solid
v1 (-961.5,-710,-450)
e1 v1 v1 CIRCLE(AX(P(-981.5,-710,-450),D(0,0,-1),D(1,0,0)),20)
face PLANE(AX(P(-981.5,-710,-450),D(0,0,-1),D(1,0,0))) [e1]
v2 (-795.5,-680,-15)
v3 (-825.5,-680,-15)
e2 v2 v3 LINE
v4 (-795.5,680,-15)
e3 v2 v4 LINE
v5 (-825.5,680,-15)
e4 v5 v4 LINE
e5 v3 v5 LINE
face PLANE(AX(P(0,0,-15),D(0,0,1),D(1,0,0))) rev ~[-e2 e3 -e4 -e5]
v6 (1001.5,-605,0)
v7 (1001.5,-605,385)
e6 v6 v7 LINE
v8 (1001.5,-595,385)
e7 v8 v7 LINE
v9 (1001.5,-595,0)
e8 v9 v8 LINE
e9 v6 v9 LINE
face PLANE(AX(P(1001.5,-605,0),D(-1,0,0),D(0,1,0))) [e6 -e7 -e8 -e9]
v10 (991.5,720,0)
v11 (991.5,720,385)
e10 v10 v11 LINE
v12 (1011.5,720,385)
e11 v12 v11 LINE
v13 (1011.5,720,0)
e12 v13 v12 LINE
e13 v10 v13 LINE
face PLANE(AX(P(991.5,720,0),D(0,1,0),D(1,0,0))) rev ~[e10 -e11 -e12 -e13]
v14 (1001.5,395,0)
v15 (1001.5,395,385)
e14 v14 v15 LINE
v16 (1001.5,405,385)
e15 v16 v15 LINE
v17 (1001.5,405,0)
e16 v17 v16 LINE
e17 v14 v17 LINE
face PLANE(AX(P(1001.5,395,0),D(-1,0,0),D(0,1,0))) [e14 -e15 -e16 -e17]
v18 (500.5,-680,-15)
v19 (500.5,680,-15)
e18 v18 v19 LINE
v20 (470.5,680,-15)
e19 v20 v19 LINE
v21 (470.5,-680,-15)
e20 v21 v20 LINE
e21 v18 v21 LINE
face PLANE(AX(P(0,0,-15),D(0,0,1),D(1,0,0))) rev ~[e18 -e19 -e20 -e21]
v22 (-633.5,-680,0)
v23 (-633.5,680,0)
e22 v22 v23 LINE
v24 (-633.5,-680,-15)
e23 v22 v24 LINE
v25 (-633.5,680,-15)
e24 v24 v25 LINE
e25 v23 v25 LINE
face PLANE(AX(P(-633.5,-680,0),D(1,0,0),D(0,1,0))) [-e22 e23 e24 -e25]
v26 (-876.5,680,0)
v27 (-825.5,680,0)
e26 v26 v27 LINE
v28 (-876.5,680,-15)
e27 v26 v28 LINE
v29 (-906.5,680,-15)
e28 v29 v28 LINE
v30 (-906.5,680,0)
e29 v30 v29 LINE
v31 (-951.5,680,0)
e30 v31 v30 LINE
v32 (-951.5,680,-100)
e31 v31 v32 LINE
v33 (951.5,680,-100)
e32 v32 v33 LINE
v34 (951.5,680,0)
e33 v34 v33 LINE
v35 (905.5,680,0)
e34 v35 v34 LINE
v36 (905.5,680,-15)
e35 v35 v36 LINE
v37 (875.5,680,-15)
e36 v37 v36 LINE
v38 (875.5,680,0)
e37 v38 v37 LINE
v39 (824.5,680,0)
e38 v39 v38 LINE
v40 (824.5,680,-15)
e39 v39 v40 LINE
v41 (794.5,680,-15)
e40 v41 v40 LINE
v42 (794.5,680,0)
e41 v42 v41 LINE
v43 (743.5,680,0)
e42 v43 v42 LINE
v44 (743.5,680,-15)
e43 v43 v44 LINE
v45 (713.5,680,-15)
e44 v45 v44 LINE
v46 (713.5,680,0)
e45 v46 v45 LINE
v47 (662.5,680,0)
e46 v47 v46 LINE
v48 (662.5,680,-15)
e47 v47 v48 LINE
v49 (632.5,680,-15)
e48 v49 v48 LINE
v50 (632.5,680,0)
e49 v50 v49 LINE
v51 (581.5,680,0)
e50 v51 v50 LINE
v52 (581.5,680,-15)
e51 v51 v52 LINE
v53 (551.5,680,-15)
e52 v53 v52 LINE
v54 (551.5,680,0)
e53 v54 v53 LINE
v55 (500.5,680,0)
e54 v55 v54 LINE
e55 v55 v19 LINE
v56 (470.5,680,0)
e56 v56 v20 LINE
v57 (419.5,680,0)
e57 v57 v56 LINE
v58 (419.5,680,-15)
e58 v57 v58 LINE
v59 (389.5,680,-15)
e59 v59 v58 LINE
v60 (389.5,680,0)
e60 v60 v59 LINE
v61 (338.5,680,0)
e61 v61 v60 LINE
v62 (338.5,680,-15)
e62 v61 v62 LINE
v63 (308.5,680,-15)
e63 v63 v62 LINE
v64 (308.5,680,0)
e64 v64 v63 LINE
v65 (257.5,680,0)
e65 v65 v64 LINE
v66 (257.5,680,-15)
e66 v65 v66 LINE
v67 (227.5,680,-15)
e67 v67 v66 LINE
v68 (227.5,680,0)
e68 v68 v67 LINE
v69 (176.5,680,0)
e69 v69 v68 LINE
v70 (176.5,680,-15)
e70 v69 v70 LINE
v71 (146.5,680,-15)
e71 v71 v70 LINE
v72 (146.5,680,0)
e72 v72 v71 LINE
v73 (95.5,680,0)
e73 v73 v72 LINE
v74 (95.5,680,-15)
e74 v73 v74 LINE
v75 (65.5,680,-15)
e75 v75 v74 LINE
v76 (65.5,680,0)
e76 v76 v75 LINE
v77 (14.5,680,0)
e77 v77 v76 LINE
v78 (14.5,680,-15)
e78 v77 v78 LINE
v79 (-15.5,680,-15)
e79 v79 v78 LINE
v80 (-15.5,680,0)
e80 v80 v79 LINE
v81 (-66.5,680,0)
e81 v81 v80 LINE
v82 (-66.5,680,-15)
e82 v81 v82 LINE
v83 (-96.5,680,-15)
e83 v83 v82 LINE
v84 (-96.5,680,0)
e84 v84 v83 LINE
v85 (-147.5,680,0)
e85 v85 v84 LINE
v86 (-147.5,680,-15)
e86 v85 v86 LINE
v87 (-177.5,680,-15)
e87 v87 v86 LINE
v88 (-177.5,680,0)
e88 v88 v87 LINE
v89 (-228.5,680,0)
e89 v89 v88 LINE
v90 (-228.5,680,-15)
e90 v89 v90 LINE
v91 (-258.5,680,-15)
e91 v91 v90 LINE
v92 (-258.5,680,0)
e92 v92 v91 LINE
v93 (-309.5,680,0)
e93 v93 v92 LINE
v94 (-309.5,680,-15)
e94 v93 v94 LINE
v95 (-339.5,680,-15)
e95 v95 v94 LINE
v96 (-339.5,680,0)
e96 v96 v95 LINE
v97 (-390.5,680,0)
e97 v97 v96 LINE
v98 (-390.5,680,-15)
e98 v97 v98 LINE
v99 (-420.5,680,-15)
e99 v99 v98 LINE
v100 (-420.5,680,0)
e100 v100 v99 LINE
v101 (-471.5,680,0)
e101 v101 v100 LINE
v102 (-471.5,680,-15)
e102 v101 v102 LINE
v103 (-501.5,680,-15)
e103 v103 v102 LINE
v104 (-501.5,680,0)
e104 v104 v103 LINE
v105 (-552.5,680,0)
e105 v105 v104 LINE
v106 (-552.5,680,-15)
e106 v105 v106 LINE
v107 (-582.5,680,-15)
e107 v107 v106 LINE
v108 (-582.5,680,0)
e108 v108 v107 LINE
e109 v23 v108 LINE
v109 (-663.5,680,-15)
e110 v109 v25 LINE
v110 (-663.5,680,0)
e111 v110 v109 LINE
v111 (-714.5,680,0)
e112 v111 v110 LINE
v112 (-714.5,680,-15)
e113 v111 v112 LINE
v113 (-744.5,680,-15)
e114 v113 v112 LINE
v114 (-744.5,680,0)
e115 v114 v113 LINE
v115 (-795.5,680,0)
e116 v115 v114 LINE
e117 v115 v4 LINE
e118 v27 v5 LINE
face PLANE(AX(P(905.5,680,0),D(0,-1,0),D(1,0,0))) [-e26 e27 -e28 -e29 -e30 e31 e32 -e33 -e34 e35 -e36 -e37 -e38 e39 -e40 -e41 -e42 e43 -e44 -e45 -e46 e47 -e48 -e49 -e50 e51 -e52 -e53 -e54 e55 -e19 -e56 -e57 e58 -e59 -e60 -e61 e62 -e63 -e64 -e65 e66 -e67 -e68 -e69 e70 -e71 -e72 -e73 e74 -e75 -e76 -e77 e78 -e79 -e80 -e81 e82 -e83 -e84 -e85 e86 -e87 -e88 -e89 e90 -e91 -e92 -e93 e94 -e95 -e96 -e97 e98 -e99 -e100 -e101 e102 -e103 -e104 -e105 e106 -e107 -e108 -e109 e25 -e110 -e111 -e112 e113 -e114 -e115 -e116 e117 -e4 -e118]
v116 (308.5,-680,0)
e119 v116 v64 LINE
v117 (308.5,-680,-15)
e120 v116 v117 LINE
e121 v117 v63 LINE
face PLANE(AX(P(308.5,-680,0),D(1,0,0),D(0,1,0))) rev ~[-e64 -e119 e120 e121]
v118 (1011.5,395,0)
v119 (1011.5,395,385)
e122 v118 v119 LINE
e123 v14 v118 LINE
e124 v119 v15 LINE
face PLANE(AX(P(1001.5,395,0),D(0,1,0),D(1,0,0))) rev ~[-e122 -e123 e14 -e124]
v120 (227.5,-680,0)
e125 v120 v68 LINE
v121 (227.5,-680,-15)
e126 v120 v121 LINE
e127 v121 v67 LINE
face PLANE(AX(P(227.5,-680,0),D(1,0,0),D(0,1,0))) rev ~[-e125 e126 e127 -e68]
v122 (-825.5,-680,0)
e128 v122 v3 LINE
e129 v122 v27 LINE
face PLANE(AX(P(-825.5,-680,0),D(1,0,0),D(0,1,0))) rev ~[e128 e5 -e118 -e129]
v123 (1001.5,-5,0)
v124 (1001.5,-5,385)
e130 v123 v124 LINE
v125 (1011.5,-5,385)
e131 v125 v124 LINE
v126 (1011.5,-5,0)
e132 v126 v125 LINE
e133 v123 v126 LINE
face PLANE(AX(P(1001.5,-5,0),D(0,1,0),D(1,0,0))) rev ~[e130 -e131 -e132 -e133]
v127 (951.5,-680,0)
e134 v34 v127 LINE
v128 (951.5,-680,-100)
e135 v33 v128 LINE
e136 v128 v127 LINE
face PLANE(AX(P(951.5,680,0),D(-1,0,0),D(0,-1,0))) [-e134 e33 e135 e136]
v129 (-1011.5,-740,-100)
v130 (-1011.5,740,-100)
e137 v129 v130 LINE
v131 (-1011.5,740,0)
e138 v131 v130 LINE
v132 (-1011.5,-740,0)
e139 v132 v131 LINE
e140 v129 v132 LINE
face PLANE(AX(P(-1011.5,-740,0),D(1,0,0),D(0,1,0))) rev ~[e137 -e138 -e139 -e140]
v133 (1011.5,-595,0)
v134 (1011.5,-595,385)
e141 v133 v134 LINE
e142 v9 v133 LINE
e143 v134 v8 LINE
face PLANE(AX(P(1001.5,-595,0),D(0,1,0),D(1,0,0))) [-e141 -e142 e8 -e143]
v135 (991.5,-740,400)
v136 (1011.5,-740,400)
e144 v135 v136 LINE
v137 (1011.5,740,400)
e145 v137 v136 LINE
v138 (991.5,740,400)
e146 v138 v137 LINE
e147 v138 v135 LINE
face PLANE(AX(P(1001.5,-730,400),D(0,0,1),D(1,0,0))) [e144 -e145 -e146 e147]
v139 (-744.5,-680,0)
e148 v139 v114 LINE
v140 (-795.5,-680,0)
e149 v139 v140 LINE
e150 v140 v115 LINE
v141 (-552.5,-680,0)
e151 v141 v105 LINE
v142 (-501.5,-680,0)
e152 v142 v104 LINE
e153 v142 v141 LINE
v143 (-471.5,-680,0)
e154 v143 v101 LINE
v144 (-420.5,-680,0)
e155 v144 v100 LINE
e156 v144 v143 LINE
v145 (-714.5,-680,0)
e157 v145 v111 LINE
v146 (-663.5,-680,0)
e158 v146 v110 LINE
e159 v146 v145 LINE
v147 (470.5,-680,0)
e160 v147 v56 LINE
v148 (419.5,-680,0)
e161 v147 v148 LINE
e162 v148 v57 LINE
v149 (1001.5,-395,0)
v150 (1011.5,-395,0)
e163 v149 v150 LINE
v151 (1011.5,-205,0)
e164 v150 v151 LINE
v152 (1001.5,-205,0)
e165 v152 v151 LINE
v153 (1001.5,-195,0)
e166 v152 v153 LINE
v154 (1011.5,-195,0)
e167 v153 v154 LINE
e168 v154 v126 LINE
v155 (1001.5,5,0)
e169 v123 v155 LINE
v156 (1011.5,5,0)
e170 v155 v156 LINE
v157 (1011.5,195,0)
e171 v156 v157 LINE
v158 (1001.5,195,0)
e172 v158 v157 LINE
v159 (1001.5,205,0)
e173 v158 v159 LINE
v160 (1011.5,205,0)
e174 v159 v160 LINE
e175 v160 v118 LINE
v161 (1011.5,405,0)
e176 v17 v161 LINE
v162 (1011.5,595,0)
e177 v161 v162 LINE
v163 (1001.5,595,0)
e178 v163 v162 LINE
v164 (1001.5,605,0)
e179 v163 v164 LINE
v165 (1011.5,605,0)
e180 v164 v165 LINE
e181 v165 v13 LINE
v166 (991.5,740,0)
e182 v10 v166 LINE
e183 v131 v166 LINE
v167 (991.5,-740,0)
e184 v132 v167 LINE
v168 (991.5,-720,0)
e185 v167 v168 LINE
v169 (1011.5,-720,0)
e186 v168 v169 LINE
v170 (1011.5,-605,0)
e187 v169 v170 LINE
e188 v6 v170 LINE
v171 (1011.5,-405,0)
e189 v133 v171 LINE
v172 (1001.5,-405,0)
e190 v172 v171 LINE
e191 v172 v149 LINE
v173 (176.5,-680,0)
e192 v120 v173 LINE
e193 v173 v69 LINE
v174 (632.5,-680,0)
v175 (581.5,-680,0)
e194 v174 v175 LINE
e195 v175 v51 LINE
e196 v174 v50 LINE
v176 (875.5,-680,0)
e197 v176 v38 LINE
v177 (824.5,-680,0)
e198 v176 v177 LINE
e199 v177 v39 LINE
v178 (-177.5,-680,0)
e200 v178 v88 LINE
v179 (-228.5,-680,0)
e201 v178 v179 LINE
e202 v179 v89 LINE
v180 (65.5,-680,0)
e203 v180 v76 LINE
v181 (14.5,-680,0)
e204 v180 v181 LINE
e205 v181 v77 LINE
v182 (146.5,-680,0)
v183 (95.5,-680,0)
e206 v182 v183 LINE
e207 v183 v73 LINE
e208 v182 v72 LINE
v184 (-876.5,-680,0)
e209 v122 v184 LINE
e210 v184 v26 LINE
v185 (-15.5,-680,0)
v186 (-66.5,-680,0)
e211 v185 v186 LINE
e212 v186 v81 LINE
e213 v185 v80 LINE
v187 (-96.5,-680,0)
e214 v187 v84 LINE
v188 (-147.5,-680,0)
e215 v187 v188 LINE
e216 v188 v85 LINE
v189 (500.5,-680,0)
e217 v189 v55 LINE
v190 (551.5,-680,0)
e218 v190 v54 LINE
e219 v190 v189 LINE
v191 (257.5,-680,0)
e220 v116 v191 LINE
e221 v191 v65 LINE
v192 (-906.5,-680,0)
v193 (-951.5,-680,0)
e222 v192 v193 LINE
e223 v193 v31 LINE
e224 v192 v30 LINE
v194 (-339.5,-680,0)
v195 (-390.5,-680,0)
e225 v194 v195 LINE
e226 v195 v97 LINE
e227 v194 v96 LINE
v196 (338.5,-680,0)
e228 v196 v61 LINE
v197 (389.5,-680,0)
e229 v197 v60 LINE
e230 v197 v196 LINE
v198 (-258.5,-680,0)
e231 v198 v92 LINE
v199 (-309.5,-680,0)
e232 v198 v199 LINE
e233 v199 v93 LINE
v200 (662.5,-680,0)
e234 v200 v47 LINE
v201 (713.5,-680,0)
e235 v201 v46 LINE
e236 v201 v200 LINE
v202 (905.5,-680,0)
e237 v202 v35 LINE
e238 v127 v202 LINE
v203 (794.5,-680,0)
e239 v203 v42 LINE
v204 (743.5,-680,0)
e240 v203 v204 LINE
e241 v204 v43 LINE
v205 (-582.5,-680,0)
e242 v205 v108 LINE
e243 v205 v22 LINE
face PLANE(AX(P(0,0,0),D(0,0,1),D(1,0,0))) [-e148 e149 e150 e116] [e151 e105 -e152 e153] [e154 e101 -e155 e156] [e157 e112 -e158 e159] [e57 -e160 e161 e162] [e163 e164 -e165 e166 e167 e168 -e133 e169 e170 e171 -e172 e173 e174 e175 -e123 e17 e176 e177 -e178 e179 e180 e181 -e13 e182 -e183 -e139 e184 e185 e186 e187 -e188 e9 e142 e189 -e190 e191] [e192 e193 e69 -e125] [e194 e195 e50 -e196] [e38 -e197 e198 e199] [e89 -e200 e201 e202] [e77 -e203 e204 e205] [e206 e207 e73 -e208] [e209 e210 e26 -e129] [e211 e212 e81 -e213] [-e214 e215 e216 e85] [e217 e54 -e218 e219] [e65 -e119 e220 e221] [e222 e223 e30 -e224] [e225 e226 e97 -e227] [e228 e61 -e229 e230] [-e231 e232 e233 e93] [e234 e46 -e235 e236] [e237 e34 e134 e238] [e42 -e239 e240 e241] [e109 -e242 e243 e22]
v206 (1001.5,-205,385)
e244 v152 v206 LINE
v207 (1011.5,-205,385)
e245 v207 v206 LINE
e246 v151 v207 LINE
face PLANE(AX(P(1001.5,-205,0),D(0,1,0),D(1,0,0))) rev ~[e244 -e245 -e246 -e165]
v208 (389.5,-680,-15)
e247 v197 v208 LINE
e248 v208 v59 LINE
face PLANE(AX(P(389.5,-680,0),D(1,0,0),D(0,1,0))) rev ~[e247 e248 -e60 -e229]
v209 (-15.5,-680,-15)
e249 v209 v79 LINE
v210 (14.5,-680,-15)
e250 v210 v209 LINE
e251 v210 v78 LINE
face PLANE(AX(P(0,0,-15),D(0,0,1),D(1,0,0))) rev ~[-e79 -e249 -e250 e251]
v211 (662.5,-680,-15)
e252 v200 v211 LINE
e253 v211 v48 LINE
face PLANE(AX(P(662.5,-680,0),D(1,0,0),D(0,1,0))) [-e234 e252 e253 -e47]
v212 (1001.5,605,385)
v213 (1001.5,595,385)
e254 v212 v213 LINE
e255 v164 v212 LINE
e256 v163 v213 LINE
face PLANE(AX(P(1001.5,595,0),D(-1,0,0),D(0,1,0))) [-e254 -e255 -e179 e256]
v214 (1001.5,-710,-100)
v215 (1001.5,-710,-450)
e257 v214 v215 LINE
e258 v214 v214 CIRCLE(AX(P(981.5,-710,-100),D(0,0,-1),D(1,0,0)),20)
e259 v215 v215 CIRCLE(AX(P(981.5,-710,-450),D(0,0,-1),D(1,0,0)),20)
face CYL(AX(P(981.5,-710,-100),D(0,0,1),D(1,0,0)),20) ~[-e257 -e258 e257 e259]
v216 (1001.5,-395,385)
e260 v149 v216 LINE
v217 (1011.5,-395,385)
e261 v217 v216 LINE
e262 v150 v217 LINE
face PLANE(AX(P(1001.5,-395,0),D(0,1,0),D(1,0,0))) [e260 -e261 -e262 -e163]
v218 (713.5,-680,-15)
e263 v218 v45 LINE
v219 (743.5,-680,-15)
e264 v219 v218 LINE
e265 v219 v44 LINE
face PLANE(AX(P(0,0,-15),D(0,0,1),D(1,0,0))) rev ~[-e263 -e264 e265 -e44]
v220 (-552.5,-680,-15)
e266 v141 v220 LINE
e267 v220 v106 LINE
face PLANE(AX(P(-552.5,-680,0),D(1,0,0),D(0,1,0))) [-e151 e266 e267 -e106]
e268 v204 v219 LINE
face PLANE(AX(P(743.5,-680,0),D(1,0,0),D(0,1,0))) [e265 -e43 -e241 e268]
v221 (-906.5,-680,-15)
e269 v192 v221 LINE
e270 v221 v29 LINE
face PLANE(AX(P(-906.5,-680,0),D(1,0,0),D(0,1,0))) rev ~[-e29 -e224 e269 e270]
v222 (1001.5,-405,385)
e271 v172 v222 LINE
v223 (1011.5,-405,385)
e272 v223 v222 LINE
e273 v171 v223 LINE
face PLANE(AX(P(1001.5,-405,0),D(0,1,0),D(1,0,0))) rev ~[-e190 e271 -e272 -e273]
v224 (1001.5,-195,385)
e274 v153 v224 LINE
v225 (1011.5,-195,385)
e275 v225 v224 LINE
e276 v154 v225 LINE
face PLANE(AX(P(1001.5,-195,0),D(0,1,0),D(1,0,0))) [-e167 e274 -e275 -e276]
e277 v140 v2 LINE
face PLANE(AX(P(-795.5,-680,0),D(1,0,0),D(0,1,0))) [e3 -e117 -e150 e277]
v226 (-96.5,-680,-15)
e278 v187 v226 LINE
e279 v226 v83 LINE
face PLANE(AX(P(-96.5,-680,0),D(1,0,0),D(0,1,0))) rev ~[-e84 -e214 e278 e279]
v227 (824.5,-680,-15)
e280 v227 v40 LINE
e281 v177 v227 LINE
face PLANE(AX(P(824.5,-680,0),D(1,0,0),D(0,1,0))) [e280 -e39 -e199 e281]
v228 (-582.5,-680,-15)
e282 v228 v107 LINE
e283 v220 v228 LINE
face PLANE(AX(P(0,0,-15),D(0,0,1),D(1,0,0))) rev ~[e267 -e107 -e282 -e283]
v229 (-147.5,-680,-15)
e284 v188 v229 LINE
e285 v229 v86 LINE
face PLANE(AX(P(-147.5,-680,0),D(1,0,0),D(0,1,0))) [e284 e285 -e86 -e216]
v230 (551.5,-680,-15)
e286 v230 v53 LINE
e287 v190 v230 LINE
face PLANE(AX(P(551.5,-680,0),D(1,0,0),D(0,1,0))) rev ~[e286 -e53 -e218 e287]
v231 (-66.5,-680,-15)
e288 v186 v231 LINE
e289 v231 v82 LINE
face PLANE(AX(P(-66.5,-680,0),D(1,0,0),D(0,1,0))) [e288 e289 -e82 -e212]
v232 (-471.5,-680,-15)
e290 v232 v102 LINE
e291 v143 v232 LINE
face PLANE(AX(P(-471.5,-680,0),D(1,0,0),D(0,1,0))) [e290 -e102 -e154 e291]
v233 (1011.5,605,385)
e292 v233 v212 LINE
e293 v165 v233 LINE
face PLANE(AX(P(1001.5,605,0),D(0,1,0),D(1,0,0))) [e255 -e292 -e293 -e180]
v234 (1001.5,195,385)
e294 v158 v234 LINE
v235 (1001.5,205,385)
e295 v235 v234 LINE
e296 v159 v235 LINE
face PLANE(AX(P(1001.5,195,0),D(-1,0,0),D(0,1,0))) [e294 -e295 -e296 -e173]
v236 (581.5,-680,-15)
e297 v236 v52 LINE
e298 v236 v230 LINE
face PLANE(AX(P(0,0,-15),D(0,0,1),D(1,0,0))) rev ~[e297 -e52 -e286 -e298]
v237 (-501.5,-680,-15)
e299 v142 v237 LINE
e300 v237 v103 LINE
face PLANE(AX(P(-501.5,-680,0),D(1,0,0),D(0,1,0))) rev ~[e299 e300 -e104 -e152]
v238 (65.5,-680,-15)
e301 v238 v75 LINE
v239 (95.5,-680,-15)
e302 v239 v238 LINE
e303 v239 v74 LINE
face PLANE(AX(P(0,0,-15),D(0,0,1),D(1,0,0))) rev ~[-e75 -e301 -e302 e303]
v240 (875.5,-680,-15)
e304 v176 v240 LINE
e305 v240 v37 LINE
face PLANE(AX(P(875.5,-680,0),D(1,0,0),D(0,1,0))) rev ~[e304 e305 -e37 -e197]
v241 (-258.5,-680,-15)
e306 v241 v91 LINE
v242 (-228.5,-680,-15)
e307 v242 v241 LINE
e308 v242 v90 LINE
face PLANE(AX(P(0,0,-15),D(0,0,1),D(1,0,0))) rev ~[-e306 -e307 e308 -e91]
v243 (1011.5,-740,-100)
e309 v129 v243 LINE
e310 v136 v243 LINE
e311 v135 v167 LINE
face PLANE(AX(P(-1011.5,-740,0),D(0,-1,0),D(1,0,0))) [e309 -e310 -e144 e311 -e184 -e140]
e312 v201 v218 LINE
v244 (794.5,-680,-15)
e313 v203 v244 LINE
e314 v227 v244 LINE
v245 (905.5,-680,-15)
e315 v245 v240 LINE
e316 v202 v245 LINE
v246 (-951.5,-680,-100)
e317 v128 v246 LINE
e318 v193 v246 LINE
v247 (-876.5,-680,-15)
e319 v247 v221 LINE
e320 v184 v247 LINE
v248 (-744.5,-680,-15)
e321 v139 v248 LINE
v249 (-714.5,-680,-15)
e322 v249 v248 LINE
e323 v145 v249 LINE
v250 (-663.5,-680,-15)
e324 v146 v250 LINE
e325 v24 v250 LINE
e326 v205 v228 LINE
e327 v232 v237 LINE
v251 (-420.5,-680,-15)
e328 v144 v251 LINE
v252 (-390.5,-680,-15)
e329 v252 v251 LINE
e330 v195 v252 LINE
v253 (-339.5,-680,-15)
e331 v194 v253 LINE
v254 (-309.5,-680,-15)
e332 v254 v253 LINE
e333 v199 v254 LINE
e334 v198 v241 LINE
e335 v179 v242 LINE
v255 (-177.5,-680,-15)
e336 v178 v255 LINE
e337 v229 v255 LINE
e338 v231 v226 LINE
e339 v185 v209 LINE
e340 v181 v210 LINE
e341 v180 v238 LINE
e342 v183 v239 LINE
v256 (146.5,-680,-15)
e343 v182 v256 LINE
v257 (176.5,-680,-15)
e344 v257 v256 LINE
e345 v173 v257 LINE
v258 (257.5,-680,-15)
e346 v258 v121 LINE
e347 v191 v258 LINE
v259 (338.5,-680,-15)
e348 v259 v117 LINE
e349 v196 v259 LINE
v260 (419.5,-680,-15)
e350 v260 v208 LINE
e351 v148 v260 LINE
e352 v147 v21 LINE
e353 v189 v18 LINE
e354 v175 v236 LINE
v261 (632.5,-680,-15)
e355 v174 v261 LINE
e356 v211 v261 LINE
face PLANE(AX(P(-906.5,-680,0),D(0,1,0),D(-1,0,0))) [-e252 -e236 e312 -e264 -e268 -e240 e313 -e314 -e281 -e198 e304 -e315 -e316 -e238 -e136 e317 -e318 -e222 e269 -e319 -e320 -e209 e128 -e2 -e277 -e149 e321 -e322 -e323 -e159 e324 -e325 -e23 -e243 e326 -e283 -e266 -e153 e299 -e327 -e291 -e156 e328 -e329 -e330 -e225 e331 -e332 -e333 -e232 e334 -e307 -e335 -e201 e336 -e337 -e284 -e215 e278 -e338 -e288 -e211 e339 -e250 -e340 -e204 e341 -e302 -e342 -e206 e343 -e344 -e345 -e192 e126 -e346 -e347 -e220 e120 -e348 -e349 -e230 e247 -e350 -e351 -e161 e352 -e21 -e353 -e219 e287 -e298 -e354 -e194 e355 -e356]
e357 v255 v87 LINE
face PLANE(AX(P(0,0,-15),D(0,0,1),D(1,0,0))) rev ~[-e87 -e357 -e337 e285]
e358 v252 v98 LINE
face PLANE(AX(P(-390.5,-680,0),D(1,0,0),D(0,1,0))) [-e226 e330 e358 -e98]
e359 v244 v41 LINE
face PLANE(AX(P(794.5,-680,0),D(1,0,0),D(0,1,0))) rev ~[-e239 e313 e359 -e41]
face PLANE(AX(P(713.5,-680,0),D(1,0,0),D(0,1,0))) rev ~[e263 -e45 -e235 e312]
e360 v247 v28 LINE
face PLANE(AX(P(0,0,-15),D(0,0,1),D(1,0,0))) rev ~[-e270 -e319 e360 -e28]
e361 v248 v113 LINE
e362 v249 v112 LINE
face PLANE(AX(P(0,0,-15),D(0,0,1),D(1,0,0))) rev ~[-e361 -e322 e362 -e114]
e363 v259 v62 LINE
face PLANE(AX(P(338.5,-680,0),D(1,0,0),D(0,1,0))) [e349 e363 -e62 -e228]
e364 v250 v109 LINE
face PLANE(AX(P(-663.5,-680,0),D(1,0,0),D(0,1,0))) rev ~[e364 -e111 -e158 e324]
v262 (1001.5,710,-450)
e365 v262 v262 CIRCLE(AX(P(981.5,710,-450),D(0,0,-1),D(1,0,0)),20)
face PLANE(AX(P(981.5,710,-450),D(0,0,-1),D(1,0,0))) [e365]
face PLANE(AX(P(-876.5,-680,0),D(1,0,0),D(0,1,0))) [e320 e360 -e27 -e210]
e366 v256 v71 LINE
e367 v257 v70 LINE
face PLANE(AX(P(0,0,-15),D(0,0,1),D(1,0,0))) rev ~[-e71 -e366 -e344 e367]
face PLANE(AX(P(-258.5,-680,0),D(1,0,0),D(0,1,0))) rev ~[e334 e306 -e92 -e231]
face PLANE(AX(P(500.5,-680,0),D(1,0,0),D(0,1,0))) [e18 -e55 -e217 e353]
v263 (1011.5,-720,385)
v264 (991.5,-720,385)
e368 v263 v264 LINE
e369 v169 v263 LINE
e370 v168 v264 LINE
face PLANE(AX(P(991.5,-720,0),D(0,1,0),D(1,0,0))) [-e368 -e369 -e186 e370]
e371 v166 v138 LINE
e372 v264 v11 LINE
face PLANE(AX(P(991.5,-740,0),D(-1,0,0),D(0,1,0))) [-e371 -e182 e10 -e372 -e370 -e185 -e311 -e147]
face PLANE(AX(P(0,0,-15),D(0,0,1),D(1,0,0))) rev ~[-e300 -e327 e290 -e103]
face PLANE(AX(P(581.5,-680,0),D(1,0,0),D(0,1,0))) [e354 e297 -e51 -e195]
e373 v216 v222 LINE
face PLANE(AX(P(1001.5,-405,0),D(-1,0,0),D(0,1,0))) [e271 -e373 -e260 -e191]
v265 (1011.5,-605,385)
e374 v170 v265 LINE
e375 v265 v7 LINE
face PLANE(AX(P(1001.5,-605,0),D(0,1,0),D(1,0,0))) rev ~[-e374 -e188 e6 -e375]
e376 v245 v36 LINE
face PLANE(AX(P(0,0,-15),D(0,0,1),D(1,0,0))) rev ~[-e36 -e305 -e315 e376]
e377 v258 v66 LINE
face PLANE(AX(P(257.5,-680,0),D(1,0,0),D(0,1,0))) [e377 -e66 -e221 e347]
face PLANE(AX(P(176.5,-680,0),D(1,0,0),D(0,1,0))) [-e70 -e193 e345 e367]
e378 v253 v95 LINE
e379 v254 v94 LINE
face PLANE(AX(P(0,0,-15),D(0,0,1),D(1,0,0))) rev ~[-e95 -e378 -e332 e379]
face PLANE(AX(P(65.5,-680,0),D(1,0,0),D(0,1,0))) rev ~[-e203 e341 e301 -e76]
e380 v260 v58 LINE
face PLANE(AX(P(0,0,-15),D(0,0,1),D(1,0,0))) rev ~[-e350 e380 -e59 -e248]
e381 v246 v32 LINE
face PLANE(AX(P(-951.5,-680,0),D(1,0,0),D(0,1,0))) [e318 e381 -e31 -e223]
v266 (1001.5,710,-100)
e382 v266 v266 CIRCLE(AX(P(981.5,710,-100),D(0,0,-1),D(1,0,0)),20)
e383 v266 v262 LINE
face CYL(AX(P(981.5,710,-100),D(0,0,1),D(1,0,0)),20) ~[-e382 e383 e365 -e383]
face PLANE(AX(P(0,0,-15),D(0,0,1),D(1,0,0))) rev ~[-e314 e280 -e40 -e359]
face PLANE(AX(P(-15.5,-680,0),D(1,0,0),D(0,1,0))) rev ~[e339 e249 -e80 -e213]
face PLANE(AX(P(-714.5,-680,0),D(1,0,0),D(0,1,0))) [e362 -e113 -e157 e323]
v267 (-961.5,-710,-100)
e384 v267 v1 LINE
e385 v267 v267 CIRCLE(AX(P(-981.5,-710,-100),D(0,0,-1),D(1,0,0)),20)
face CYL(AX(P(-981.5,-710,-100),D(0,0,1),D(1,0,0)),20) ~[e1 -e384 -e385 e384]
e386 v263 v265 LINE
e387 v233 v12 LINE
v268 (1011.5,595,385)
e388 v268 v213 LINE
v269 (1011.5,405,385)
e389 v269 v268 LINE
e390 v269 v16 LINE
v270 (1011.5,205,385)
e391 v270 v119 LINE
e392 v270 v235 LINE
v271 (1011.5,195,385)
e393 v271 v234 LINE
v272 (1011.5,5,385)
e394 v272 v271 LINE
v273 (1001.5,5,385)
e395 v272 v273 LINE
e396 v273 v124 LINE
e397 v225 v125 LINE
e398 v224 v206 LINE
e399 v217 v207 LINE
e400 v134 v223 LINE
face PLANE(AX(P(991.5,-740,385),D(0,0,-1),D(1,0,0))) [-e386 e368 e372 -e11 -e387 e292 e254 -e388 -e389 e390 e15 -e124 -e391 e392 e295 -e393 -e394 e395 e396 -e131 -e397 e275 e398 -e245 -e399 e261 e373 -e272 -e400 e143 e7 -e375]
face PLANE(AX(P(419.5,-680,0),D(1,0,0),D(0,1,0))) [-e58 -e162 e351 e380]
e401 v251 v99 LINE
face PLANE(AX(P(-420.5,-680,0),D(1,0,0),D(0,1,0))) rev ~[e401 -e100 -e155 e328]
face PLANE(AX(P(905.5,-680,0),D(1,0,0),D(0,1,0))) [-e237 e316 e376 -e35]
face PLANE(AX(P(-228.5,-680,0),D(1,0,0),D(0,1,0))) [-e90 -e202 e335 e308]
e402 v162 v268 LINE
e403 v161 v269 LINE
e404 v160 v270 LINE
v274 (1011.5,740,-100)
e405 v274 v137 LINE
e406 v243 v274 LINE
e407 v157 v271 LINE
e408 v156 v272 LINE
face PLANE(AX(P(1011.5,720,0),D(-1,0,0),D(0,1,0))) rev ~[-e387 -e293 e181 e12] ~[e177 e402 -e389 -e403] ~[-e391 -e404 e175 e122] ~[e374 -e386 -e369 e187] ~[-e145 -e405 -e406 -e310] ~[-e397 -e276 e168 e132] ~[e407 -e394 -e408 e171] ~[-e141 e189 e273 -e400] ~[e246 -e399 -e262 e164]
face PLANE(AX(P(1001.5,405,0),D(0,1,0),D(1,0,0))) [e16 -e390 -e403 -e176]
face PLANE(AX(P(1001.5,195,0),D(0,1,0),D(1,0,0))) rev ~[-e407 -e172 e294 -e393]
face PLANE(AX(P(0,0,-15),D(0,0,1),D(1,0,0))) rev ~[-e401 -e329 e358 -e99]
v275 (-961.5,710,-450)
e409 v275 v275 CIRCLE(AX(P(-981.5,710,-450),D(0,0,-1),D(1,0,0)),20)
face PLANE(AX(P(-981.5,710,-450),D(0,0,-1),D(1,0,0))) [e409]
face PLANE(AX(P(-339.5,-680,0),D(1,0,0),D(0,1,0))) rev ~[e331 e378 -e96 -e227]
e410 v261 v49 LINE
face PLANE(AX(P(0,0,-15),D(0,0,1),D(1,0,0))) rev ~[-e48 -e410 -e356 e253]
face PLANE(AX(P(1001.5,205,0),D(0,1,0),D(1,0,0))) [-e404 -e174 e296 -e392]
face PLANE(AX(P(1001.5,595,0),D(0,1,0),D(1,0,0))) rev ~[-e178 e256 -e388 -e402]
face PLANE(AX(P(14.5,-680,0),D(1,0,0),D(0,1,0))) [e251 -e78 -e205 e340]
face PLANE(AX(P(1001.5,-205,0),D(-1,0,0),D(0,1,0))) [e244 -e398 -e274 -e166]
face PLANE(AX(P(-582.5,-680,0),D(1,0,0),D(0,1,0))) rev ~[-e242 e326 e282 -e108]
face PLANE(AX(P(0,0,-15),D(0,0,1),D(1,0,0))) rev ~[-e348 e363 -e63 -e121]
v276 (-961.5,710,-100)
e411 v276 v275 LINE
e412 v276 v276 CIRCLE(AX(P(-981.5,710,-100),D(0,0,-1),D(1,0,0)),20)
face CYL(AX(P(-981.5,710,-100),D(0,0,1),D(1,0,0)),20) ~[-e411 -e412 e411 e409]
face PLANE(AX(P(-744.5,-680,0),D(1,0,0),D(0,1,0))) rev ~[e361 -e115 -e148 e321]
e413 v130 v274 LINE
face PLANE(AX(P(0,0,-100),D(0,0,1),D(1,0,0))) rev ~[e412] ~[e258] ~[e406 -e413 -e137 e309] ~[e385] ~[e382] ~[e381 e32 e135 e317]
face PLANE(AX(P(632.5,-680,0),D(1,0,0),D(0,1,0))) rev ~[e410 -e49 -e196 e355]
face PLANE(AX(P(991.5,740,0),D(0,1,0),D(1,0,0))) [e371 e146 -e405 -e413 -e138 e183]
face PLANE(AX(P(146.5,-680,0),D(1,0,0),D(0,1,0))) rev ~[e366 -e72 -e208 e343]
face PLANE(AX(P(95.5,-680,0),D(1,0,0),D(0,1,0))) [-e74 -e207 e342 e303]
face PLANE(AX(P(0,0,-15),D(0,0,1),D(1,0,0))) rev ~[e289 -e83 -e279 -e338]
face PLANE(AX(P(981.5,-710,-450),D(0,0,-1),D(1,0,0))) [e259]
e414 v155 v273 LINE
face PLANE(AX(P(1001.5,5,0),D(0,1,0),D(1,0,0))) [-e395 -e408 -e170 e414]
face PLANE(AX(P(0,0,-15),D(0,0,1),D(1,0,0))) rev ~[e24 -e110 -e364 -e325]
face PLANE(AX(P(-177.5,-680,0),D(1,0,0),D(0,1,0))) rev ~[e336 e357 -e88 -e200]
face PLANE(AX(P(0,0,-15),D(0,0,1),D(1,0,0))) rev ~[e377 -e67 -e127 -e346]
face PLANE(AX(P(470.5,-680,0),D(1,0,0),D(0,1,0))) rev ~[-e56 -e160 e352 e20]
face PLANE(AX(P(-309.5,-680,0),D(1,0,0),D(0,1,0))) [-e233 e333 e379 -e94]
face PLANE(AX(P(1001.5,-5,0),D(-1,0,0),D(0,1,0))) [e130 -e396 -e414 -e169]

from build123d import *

# Parameters (mm, degrees)
F0_W     = 2023
F0_H     = 1480
F0_W_2   = 30
F0_H_2   = 1360
F1_DEPTH = 15
F2_DEPTH = 100
F3_R     = 20
F4_DEPTH = 350
F5_W     = 20
F5_H     = 20
F5_W_2   = 10
F5_H_2   = 10
F6_DEPTH = 400
F7_W     = 20
F7_H     = 15
F8_DEPTH = 1480


with BuildPart() as f1:
    # F0 (on Top) → F1 (new body)
    with BuildSketch(Plane.XY):
        Rectangle(F0_W, F0_H)
        Polygon((-951.5, -680), (-951.5, 680), (-906.5, 680), (-876.5, 680), (-825.5, 680), (-795.5, 680), (-744.5, 680), (-714.5, 680), (-663.5, 680), (-633.5, 680), (-582.5, 680), (-552.5, 680), (-501.5, 680), (-471.5, 680), (-420.5, 680), (-390.5, 680), (-339.5, 680), (-309.5, 680), (-258.5, 680), (-228.5, 680), (-177.5, 680), (-147.5, 680), (-96.5, 680), (-66.5, 680), (-15.5, 680), (14.5, 680), (65.5, 680), (95.5, 680), (146.5, 680), (176.5, 680), (227.5, 680), (257.5, 680), (308.5, 680), (338.5, 680), (389.5, 680), (419.5, 680), (470.5, 680), (500.5, 680), (551.5, 680), (581.5, 680), (632.5, 680), (662.5, 680), (713.5, 680), (743.5, 680), (794.5, 680), (824.5, 680), (875.5, 680), (905.5, 680), (951.5, 680), (951.5, -680), (905.5, -680), (875.5, -680), (824.5, -680), (794.5, -680), (743.5, -680), (713.5, -680), (662.5, -680), (632.5, -680), (581.5, -680), (551.5, -680), (500.5, -680), (470.5, -680), (419.5, -680), (389.5, -680), (338.5, -680), (308.5, -680), (257.5, -680), (227.5, -680), (176.5, -680), (146.5, -680), (95.5, -680), (65.5, -680), (14.5, -680), (-15.5, -680), (-66.5, -680), (-96.5, -680), (-147.5, -680), (-177.5, -680), (-228.5, -680), (-258.5, -680), (-309.5, -680), (-339.5, -680), (-390.5, -680), (-420.5, -680), (-471.5, -680), (-501.5, -680), (-552.5, -680), (-582.5, -680), (-633.5, -680), (-663.5, -680), (-714.5, -680), (-744.5, -680), (-795.5, -680), (-825.5, -680), (-876.5, -680), (-906.5, -680), align=None, mode=Mode.SUBTRACT)
        with Locations((-891.5, 0)):
            Rectangle(F0_W_2, F0_H_2)
        with Locations((-810.5, 0)):
            Rectangle(F0_W_2, F0_H_2)
        with Locations((-729.5, 0)):
            Rectangle(F0_W_2, F0_H_2)
        with Locations((-648.5, 0)):
            Rectangle(F0_W_2, F0_H_2)
        with Locations((-567.5, 0)):
            Rectangle(F0_W_2, F0_H_2)
        with Locations((-486.5, 0)):
            Rectangle(F0_W_2, F0_H_2)
        with Locations((-405.5, 0)):
            Rectangle(F0_W_2, F0_H_2)
        with Locations((-324.5, 0)):
            Rectangle(F0_W_2, F0_H_2)
        with Locations((-243.5, 0)):
            Rectangle(F0_W_2, F0_H_2)
        with Locations((-162.5, 0)):
            Rectangle(F0_W_2, F0_H_2)
        with Locations((-81.5, 0)):
            Rectangle(F0_W_2, F0_H_2)
        with Locations((-0.5, 0)):
            Rectangle(F0_W_2, F0_H_2)
        with Locations((80.5, 0)):
            Rectangle(F0_W_2, F0_H_2)
        with Locations((161.5, 0)):
            Rectangle(F0_W_2, F0_H_2)
        with Locations((242.5, 0)):
            Rectangle(F0_W_2, F0_H_2)
        with Locations((323.5, 0)):
            Rectangle(F0_W_2, F0_H_2)
        with Locations((404.5, 0)):
            Rectangle(F0_W_2, F0_H_2)
        with Locations((485.5, 0)):
            Rectangle(F0_W_2, F0_H_2)
        with Locations((566.5, 0)):
            Rectangle(F0_W_2, F0_H_2)
        with Locations((647.5, 0)):
            Rectangle(F0_W_2, F0_H_2)
        with Locations((728.5, 0)):
            Rectangle(F0_W_2, F0_H_2)
        with Locations((809.5, 0)):
            Rectangle(F0_W_2, F0_H_2)
        with Locations((890.5, 0)):
            Rectangle(F0_W_2, F0_H_2)
    extrude(amount=-F1_DEPTH)

    # F0 (on Top) → F2 (join)
    with BuildSketch(Plane.XY):
        Rectangle(F0_W, F0_H)
        Polygon((-951.5, -680), (-951.5, 680), (-906.5, 680), (-876.5, 680), (-825.5, 680), (-795.5, 680), (-744.5, 680), (-714.5, 680), (-663.5, 680), (-633.5, 680), (-582.5, 680), (-552.5, 680), (-501.5, 680), (-471.5, 680), (-420.5, 680), (-390.5, 680), (-339.5, 680), (-309.5, 680), (-258.5, 680), (-228.5, 680), (-177.5, 680), (-147.5, 680), (-96.5, 680), (-66.5, 680), (-15.5, 680), (14.5, 680), (65.5, 680), (95.5, 680), (146.5, 680), (176.5, 680), (227.5, 680), (257.5, 680), (308.5, 680), (338.5, 680), (389.5, 680), (419.5, 680), (470.5, 680), (500.5, 680), (551.5, 680), (581.5, 680), (632.5, 680), (662.5, 680), (713.5, 680), (743.5, 680), (794.5, 680), (824.5, 680), (875.5, 680), (905.5, 680), (951.5, 680), (951.5, -680), (905.5, -680), (875.5, -680), (824.5, -680), (794.5, -680), (743.5, -680), (713.5, -680), (662.5, -680), (632.5, -680), (581.5, -680), (551.5, -680), (500.5, -680), (470.5, -680), (419.5, -680), (389.5, -680), (338.5, -680), (308.5, -680), (257.5, -680), (227.5, -680), (176.5, -680), (146.5, -680), (95.5, -680), (65.5, -680), (14.5, -680), (-15.5, -680), (-66.5, -680), (-96.5, -680), (-147.5, -680), (-177.5, -680), (-228.5, -680), (-258.5, -680), (-309.5, -680), (-339.5, -680), (-390.5, -680), (-420.5, -680), (-471.5, -680), (-501.5, -680), (-552.5, -680), (-582.5, -680), (-633.5, -680), (-663.5, -680), (-714.5, -680), (-744.5, -680), (-795.5, -680), (-825.5, -680), (-876.5, -680), (-906.5, -680), align=None, mode=Mode.SUBTRACT)
    extrude(amount=-F2_DEPTH)

    # F3 (on face) → F4 (join)
    with BuildSketch(Plane(origin=(0, 0, -100), x_dir=(1, 0, 0), z_dir=(0, 0, -1))):
        with Locations((-981.5, 710)):
            Circle(F3_R)
        with Locations((981.5, 710)):
            Circle(F3_R)
        with Locations((981.5, -710)):
            Circle(F3_R)
        with Locations((-981.5, -710)):
            Circle(F3_R)
    extrude(amount=F4_DEPTH)

    # F5 (on face) → F6 (join)
    with BuildSketch(Plane.XY):
        with Locations((1001.5, 730)):
            Rectangle(F5_W, F5_H)
        with Locations((1001.5, -730)):
            Rectangle(F5_W, F5_H)
        with Locations((1006.5, -600)):
            Rectangle(F5_W_2, F5_H_2)
        with Locations((1006.5, -400)):
            Rectangle(F5_W_2, F5_H_2)
        with Locations((1006.5, -200)):
            Rectangle(F5_W_2, F5_H_2)
        with Locations((1006.5, 0)):
            Rectangle(F5_W_2, F5_H_2)
        with Locations((1006.5, 200)):
            Rectangle(F5_W_2, F5_H_2)
        with Locations((1006.5, 400)):
            Rectangle(F5_W_2, F5_H_2)
        with Locations((1006.5, 600)):
            Rectangle(F5_W_2, F5_H_2)
    extrude(amount=F6_DEPTH)

    # F7 (on face) → F8 (join, through all)
    with BuildSketch(Plane.XZ.offset(740)):
        with Locations((1001.5, 392.5)):
            Rectangle(F7_W, F7_H)
    extrude(amount=-F8_DEPTH)


solid = f1.part
